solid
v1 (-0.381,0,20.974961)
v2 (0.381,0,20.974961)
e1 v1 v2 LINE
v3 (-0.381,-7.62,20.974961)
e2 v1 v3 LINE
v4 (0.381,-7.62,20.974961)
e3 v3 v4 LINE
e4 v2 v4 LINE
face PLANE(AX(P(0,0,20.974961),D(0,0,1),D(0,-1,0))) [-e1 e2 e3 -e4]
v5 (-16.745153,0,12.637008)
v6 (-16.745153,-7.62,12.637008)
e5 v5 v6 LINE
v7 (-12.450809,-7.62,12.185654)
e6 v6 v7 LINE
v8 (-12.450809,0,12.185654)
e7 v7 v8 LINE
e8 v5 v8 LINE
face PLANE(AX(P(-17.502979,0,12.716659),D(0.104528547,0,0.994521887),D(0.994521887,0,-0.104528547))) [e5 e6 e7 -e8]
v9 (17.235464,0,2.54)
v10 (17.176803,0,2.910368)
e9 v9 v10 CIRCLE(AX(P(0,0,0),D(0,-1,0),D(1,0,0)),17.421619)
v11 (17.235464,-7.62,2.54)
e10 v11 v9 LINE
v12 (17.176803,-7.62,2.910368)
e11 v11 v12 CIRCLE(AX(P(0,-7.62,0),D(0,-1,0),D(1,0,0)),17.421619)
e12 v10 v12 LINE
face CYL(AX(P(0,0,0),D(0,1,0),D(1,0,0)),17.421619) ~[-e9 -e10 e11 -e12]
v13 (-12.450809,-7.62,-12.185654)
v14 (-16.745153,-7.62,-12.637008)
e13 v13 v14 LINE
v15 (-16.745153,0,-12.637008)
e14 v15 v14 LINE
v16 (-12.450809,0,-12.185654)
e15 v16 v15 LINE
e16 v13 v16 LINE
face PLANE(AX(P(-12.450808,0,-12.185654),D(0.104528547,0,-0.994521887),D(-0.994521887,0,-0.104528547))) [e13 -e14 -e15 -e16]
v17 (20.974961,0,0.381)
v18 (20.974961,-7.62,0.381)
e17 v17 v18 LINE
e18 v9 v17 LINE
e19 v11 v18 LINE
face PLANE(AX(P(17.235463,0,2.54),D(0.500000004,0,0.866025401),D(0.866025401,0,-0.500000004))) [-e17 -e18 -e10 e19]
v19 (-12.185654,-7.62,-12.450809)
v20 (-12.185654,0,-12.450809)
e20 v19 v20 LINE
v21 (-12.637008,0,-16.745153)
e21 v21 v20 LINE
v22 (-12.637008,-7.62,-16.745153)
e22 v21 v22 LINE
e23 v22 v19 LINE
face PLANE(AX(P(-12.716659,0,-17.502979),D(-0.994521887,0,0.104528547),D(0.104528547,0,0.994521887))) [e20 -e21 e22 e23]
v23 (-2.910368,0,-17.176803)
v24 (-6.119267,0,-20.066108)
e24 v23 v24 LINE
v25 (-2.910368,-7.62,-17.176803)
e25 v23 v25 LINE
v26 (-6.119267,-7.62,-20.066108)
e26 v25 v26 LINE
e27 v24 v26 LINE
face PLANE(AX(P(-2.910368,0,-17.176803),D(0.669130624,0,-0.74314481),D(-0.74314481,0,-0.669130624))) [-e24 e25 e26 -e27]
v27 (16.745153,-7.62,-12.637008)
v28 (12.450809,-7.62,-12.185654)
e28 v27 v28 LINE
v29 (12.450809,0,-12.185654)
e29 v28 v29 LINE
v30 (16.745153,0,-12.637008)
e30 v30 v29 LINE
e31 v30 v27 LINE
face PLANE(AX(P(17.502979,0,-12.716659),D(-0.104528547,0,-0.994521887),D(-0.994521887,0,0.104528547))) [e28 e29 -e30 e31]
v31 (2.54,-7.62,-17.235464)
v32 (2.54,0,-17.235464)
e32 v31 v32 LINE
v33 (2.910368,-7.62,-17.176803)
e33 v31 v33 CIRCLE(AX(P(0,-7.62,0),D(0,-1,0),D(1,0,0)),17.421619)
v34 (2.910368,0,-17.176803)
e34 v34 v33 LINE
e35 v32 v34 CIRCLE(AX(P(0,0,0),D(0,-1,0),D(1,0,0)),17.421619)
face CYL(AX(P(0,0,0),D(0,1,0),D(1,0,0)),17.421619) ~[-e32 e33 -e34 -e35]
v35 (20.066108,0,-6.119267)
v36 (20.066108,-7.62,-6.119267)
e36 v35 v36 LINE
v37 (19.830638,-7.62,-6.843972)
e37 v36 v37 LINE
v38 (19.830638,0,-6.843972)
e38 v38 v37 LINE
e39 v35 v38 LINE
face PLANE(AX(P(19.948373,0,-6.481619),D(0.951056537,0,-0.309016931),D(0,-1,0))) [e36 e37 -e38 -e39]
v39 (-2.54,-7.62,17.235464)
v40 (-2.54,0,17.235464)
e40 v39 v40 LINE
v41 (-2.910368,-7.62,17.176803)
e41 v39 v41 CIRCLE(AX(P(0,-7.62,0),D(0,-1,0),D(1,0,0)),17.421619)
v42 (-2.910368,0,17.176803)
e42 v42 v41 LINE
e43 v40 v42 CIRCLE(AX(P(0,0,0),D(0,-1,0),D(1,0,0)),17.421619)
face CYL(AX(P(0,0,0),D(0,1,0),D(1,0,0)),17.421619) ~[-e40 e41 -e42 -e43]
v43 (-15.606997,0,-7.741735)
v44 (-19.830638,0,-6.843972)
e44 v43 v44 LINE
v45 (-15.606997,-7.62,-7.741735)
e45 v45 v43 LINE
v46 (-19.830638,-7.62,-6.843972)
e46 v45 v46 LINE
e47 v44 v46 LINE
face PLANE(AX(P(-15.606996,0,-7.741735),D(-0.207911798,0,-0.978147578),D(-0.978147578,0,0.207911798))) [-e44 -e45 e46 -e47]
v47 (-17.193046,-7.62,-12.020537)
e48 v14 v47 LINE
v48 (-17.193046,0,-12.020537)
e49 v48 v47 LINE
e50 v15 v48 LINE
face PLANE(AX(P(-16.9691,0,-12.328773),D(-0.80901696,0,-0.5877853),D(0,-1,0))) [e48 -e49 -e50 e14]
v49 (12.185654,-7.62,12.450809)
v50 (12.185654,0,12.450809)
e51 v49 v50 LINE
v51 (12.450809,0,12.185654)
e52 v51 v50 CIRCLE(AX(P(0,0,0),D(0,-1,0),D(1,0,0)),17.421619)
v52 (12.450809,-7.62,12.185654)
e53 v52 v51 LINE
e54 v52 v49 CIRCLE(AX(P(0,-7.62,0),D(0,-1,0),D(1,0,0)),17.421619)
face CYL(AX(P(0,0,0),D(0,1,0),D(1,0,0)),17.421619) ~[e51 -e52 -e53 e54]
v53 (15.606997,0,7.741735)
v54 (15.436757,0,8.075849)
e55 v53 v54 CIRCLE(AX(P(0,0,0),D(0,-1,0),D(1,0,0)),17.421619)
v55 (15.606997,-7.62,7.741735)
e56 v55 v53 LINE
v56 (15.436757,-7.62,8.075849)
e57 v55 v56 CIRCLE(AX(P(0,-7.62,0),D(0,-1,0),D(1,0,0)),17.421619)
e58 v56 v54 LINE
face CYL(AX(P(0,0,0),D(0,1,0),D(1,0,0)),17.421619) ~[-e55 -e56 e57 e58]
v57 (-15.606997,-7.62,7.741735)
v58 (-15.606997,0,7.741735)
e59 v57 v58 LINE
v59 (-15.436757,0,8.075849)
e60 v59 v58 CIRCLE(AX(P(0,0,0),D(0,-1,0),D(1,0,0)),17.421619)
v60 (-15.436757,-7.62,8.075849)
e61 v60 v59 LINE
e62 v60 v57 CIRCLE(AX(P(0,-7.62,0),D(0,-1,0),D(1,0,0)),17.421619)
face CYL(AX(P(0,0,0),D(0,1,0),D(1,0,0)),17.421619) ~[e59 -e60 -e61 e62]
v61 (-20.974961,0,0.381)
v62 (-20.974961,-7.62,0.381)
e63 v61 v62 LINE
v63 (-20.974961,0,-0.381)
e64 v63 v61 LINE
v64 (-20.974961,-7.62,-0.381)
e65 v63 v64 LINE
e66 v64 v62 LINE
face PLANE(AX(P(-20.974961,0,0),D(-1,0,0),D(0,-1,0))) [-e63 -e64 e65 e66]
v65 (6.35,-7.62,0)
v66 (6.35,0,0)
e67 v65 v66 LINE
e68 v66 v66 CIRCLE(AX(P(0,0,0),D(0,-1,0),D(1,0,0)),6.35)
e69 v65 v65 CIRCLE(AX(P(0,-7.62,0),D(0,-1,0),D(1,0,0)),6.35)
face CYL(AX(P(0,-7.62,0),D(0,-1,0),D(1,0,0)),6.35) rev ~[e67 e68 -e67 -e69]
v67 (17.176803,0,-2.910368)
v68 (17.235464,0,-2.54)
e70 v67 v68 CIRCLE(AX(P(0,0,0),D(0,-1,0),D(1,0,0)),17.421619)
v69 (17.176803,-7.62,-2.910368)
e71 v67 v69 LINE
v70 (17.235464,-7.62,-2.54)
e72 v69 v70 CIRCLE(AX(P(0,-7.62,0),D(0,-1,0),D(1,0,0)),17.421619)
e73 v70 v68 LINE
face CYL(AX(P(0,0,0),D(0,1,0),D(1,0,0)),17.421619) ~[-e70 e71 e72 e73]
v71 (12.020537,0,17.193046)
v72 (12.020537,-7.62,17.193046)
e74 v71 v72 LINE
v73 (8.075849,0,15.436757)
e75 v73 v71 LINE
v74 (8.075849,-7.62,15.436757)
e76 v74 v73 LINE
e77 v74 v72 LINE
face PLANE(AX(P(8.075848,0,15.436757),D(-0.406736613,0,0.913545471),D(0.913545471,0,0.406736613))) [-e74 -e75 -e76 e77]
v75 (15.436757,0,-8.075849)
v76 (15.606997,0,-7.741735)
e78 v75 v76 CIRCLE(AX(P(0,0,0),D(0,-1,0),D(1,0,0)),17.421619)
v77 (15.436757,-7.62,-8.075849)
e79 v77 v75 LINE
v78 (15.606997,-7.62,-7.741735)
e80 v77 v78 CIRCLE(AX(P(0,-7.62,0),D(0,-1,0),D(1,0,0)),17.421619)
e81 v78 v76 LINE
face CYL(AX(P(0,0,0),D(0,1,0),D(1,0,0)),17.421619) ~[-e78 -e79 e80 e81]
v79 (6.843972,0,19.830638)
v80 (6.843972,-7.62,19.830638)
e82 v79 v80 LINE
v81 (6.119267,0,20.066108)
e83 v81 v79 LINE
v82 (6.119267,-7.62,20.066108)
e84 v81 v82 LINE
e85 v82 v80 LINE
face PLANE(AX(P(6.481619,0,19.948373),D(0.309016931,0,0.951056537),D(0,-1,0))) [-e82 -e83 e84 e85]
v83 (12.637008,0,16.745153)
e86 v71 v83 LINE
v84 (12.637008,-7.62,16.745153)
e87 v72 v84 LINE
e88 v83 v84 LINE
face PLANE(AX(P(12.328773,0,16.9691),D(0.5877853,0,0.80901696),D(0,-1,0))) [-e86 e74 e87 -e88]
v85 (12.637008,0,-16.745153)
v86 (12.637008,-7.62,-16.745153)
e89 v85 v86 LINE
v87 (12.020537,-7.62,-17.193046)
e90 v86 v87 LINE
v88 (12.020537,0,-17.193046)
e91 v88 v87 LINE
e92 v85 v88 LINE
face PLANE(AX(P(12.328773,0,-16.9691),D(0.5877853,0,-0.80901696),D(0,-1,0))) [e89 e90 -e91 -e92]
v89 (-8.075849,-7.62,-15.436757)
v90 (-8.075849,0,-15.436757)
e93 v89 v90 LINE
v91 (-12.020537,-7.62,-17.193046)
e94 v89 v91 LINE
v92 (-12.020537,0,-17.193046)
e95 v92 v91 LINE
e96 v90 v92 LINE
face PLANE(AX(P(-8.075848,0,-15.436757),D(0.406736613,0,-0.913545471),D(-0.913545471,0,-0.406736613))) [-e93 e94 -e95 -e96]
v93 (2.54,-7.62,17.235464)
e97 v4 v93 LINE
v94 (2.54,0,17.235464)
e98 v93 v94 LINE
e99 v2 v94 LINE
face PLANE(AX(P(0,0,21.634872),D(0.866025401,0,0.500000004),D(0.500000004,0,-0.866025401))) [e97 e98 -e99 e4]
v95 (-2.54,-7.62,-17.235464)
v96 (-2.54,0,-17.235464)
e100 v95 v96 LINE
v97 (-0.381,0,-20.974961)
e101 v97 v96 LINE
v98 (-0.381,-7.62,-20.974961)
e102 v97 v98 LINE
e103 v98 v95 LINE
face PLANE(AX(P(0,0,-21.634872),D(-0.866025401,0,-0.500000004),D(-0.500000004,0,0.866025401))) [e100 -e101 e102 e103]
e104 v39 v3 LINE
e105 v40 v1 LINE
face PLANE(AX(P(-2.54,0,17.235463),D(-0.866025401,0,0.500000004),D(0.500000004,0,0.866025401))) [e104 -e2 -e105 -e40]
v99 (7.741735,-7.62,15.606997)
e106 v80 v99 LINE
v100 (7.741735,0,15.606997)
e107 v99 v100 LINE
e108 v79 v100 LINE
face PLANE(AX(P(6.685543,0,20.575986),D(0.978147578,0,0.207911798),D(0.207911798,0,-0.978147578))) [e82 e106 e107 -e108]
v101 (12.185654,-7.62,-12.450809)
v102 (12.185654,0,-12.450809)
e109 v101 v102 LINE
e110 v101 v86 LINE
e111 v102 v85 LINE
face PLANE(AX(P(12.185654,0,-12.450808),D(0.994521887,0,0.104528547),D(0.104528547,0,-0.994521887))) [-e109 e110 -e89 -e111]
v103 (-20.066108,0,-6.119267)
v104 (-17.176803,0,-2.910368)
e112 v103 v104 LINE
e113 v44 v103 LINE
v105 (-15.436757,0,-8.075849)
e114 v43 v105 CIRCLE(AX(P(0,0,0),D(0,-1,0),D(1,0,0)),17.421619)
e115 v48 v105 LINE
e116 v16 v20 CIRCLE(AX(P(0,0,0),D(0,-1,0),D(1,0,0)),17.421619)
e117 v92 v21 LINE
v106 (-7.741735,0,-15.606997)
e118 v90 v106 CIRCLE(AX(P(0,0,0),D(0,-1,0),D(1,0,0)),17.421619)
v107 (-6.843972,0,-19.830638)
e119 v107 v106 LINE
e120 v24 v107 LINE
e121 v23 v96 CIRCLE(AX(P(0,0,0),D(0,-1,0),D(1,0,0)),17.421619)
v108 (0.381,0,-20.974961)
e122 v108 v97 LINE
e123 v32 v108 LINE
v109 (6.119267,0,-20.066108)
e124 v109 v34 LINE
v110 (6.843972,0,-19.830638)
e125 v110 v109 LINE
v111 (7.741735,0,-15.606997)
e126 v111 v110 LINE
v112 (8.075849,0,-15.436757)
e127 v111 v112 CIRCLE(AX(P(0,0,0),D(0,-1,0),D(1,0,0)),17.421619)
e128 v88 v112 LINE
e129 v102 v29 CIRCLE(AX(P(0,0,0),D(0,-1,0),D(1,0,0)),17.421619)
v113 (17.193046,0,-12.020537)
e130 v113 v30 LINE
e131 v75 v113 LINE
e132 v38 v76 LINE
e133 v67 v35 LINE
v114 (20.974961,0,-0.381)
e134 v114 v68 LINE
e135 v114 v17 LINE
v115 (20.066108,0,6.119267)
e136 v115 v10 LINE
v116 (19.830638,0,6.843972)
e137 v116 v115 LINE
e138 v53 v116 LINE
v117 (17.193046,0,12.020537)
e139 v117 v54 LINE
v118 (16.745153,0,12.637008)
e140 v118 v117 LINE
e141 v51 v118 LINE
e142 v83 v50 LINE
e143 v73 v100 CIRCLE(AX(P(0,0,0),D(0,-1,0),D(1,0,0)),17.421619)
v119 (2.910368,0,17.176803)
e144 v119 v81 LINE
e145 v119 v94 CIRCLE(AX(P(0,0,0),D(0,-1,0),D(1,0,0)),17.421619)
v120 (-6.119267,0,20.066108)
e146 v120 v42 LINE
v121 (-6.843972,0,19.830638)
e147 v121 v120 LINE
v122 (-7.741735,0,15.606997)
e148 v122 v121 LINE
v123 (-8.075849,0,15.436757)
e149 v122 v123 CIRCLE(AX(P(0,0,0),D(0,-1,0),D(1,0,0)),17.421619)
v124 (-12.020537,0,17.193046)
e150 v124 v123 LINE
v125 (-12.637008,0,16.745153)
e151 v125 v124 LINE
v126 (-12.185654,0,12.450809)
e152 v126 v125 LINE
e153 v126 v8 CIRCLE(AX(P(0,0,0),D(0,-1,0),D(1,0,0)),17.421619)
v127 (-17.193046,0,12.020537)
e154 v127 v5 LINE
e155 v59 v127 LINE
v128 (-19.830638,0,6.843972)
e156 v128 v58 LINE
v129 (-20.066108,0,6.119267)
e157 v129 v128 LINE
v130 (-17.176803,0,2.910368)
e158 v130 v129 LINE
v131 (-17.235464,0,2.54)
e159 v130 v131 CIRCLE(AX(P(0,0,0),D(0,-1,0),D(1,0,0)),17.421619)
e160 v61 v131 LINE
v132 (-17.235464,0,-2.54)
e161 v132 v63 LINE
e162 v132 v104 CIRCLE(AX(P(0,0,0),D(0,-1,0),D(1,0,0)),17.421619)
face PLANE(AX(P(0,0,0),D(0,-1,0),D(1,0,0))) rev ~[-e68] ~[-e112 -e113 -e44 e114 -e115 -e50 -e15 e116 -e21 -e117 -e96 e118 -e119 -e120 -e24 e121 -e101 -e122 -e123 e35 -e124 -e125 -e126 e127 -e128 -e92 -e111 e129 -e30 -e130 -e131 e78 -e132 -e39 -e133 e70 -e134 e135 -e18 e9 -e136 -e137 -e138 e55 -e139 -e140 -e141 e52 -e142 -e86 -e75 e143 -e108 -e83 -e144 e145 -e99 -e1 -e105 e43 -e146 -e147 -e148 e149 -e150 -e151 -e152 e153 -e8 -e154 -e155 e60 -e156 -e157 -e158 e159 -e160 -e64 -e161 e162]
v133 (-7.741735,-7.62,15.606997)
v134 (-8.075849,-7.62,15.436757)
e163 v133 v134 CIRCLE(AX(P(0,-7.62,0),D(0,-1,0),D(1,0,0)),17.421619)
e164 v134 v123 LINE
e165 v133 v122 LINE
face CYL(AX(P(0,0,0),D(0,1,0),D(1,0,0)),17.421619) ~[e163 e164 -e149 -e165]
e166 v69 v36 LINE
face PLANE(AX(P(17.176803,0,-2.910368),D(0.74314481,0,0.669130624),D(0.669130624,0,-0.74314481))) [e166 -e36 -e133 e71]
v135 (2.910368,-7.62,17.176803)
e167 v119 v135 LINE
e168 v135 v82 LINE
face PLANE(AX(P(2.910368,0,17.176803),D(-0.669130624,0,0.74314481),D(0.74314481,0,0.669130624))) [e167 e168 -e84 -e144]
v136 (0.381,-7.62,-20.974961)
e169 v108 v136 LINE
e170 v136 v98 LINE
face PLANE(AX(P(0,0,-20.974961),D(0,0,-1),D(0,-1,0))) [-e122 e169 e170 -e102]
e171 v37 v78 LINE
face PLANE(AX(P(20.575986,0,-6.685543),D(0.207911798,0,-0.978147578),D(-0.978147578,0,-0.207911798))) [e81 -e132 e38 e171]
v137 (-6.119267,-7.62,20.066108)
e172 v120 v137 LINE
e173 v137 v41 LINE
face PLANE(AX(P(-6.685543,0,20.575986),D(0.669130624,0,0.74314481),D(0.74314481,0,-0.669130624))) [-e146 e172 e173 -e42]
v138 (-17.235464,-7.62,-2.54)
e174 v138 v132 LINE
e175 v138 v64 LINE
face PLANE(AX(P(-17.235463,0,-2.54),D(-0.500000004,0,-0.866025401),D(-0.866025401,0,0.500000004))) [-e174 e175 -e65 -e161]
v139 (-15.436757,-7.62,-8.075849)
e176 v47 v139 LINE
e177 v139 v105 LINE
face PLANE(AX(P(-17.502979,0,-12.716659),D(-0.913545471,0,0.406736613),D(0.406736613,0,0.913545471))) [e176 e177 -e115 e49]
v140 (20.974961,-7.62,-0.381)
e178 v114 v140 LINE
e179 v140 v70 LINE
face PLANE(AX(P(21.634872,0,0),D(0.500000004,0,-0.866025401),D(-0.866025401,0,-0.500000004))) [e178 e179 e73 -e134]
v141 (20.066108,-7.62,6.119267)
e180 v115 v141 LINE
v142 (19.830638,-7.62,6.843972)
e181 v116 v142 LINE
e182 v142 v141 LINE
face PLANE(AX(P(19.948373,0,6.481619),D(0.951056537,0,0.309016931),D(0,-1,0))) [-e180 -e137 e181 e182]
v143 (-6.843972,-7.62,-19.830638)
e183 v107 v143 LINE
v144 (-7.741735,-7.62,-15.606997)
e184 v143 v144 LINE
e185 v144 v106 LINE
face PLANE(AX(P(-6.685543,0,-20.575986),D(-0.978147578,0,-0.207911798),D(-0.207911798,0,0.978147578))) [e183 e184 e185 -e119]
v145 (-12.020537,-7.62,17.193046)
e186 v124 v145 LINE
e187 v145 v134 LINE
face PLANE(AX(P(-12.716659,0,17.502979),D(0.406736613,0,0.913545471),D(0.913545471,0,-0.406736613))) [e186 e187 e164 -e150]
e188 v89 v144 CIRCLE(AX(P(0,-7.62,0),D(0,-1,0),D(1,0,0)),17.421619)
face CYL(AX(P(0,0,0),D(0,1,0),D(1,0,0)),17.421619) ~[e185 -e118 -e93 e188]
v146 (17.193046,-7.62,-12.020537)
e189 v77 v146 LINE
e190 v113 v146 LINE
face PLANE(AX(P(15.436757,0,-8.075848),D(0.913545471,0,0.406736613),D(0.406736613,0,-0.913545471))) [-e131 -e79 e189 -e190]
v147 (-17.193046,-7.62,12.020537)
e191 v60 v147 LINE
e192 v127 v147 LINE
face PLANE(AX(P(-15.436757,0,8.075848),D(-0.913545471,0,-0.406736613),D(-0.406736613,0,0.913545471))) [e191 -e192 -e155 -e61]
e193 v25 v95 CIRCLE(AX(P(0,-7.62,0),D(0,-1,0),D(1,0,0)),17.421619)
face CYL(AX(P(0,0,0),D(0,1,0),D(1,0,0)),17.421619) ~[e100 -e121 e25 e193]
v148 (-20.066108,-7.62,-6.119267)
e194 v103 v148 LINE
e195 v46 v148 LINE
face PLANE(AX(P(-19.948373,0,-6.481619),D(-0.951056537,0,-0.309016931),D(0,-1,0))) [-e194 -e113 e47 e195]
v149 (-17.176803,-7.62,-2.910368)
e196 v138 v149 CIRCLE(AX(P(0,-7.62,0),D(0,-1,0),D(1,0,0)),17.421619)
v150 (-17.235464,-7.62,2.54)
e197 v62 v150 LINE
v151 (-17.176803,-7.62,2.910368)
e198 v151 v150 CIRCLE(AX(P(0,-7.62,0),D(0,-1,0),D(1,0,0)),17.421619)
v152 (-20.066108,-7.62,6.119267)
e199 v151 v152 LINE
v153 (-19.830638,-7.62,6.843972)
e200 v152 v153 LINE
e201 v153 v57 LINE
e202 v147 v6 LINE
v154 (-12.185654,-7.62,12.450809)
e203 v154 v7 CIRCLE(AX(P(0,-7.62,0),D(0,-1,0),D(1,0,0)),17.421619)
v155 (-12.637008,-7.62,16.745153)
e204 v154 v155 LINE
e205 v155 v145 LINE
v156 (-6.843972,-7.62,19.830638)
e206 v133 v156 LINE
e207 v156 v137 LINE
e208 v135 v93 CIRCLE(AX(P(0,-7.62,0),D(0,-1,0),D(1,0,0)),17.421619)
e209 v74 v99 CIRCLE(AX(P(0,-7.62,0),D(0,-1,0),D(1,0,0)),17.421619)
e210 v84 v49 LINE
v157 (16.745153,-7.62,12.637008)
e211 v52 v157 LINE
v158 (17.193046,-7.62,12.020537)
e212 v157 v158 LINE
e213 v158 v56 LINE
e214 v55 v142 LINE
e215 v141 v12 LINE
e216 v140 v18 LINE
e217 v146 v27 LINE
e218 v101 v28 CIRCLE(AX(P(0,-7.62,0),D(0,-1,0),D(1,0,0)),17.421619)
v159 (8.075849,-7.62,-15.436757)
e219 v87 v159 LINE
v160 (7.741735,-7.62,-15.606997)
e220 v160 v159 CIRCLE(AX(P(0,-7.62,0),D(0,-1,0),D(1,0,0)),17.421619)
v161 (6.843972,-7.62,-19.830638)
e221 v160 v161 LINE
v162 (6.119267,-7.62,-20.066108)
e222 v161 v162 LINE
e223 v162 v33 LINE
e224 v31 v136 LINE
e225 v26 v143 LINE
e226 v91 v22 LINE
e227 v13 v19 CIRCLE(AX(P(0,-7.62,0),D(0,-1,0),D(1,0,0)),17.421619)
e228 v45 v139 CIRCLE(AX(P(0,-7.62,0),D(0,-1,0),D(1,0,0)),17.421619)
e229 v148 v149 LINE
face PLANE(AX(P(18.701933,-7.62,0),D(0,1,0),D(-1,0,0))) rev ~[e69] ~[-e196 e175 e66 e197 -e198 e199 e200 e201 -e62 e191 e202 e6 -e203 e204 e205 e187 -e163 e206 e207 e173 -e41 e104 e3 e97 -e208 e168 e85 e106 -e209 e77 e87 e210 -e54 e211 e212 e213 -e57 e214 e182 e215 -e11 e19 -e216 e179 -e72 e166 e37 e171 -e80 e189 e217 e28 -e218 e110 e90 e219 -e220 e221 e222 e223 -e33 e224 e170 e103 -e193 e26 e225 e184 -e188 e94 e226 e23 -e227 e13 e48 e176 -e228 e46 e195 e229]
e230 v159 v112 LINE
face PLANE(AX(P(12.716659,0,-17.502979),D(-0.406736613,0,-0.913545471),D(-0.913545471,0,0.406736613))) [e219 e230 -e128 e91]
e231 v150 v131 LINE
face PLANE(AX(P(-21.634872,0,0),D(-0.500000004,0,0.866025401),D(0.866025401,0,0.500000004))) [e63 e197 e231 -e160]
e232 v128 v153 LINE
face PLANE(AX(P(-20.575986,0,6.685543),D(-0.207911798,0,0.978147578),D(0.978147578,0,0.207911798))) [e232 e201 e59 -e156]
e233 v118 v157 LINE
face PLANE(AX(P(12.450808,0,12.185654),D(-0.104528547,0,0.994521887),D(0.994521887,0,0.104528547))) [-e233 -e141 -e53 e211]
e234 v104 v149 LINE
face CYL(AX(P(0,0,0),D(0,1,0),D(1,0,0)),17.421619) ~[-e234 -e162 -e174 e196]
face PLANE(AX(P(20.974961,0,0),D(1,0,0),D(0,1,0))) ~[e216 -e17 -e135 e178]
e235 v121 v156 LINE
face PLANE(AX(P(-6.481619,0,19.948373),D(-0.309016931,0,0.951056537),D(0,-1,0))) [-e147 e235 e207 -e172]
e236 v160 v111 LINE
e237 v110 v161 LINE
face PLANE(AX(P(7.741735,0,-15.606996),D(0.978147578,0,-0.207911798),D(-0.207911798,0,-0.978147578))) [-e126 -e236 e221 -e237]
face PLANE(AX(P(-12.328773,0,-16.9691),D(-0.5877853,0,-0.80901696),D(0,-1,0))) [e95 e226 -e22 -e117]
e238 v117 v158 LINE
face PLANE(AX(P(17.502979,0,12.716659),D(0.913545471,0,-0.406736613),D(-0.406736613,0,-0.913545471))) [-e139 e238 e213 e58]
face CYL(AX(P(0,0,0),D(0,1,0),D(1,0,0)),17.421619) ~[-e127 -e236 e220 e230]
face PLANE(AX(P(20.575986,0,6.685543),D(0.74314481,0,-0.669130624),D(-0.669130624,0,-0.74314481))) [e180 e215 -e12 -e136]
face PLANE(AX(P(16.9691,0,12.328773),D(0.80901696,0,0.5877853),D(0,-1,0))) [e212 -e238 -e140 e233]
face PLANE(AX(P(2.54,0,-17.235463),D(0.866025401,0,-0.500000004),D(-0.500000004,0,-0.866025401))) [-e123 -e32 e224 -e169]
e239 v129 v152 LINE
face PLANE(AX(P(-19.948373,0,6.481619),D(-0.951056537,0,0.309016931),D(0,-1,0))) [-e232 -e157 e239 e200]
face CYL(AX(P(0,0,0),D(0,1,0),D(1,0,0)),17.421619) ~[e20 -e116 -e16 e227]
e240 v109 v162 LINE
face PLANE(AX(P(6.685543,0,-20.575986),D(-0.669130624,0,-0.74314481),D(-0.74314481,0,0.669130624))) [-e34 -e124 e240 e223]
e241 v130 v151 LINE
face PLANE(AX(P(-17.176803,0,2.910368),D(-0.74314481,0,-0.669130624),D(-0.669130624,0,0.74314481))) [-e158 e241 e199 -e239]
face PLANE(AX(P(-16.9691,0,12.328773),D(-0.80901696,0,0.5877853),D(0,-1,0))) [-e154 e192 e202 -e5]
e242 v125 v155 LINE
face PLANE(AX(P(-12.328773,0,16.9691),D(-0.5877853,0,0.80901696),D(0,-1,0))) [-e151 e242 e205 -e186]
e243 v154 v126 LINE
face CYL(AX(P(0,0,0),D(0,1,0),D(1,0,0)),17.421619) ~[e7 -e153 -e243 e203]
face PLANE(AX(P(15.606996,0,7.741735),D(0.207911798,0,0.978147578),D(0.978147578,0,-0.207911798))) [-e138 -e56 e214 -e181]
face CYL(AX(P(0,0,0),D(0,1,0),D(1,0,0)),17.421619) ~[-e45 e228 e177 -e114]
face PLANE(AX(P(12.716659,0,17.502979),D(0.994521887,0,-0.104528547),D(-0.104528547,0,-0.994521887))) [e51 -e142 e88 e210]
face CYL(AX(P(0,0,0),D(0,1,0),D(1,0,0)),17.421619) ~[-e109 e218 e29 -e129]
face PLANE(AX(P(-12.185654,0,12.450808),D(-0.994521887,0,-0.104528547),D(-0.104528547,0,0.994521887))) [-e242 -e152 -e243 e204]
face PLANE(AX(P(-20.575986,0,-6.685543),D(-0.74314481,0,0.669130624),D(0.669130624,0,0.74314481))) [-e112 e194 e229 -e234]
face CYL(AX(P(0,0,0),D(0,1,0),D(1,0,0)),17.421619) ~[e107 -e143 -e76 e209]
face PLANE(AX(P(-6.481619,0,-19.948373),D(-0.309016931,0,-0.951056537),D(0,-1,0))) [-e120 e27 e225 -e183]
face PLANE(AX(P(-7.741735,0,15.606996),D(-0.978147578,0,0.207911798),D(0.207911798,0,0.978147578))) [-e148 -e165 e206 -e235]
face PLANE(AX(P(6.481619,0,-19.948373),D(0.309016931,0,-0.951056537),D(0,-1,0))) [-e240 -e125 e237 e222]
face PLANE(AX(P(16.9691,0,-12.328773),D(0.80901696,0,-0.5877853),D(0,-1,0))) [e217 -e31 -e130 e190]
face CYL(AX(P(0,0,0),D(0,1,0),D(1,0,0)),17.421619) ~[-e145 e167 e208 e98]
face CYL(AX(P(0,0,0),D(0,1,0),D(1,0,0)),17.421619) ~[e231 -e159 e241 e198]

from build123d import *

# Parameters (mm, degrees)
F0_R     = 17.421619
F1_DEPTH = 7.62
F3_DEPTH = 7.62
F4_SIZE  = 0.762
F5_R     = 6.35
F6_DEPTH = 25.4


with BuildPart() as f1:
    # F0 (on Front) → F1 (new body)
    with BuildSketch(Plane.XZ):
        Circle(F0_R)
    extrude(amount=F1_DEPTH)

    # F2 (on face) → F3 (join, through all)
    with BuildSketch(Plane(origin=(0, 0, 0), x_dir=(-1, 0, 0), z_dir=(0, 1, 0))):
        Polygon((-17.235463, -2.54), (-17.235463, 2.54), (-21.634872, 0), align=None)
        Polygon((-20.575986, -6.685543), (-15.606996, -7.741735), (-17.176803, -2.910368), align=None)
        Polygon((-17.502979, -12.716659), (-12.450808, -12.185654), (-15.436757, -8.075848), align=None)
        Polygon((-12.716659, -17.502979), (-8.075848, -15.436757), (-12.185654, -12.450808), align=None)
        Polygon((-6.685543, -20.575986), (-2.910368, -17.176803), (-7.741735, -15.606996), align=None)
        Polygon((0, -21.634872), (2.54, -17.235463), (-2.54, -17.235463), align=None)
        Polygon((6.685543, -20.575986), (7.741735, -15.606996), (2.910368, -17.176803), align=None)
        Polygon((12.716659, -17.502979), (12.185654, -12.450808), (8.075848, -15.436757), align=None)
        Polygon((17.502979, -12.716659), (15.436757, -8.075848), (12.450808, -12.185654), align=None)
        Polygon((20.575986, -6.685543), (17.176803, -2.910368), (15.606996, -7.741735), align=None)
        Polygon((21.634872, 0), (17.235463, 2.54), (17.235463, -2.54), align=None)
        Polygon((20.575986, 6.685543), (15.606996, 7.741735), (17.176803, 2.910368), align=None)
        Polygon((17.502979, 12.716659), (12.450808, 12.185654), (15.436757, 8.075848), align=None)
        Polygon((12.716659, 17.502979), (8.075848, 15.436757), (12.185654, 12.450808), align=None)
        Polygon((6.685543, 20.575986), (2.910368, 17.176803), (7.741735, 15.606996), align=None)
        Polygon((0, 21.634872), (-2.54, 17.235463), (2.54, 17.235463), align=None)
        Polygon((-6.685543, 20.575986), (-7.741735, 15.606996), (-2.910368, 17.176803), align=None)
        Polygon((-12.716659, 17.502979), (-12.185654, 12.450808), (-8.075848, 15.436757), align=None)
        Polygon((-17.502979, 12.716659), (-15.436757, 8.075848), (-12.450808, 12.185654), align=None)
        Polygon((-20.575986, 6.685543), (-17.176803, 2.910368), (-15.606996, 7.741735), align=None)
    extrude(amount=-F3_DEPTH)

    # F4
    f4_edges = [f1.edges().sort_by_distance(p)[0] for p in [
        (-6.685543, -3.81, 20.575986),
        (0, -3.81, 21.634872),
        (6.685543, -3.81, 20.575986),
        (12.716659, -3.81, 17.502979),
        (17.502979, -3.81, 12.716659),
        (20.575986, -3.81, 6.685543),
        (21.634872, -3.81, 0),
        (20.575986, -3.81, -6.685543),
        (-12.716659, -3.81, 17.502979),
        (-17.502979, -3.81, 12.716659),
        (-20.575986, -3.81, 6.685543),
        (-21.634872, -3.81, 0),
        (-20.575986, -3.81, -6.685543),
        (-17.502979, -3.81, -12.716659),
        (-12.716659, -3.81, -17.502979),
        (17.502979, -3.81, -12.716659),
        (-6.685543, -3.81, -20.575986),
        (0, -3.81, -21.634872),
        (6.685543, -3.81, -20.575986),
        (12.716659, -3.81, -17.502979),
    ]]
    chamfer(f4_edges, length=F4_SIZE)

    # F5 (on face) → F6 (cut)
    with BuildSketch(Plane.XZ.offset(7.62)):
        Circle(F5_R)
    extrude(amount=-F6_DEPTH, mode=Mode.SUBTRACT)


solid = f1.part
